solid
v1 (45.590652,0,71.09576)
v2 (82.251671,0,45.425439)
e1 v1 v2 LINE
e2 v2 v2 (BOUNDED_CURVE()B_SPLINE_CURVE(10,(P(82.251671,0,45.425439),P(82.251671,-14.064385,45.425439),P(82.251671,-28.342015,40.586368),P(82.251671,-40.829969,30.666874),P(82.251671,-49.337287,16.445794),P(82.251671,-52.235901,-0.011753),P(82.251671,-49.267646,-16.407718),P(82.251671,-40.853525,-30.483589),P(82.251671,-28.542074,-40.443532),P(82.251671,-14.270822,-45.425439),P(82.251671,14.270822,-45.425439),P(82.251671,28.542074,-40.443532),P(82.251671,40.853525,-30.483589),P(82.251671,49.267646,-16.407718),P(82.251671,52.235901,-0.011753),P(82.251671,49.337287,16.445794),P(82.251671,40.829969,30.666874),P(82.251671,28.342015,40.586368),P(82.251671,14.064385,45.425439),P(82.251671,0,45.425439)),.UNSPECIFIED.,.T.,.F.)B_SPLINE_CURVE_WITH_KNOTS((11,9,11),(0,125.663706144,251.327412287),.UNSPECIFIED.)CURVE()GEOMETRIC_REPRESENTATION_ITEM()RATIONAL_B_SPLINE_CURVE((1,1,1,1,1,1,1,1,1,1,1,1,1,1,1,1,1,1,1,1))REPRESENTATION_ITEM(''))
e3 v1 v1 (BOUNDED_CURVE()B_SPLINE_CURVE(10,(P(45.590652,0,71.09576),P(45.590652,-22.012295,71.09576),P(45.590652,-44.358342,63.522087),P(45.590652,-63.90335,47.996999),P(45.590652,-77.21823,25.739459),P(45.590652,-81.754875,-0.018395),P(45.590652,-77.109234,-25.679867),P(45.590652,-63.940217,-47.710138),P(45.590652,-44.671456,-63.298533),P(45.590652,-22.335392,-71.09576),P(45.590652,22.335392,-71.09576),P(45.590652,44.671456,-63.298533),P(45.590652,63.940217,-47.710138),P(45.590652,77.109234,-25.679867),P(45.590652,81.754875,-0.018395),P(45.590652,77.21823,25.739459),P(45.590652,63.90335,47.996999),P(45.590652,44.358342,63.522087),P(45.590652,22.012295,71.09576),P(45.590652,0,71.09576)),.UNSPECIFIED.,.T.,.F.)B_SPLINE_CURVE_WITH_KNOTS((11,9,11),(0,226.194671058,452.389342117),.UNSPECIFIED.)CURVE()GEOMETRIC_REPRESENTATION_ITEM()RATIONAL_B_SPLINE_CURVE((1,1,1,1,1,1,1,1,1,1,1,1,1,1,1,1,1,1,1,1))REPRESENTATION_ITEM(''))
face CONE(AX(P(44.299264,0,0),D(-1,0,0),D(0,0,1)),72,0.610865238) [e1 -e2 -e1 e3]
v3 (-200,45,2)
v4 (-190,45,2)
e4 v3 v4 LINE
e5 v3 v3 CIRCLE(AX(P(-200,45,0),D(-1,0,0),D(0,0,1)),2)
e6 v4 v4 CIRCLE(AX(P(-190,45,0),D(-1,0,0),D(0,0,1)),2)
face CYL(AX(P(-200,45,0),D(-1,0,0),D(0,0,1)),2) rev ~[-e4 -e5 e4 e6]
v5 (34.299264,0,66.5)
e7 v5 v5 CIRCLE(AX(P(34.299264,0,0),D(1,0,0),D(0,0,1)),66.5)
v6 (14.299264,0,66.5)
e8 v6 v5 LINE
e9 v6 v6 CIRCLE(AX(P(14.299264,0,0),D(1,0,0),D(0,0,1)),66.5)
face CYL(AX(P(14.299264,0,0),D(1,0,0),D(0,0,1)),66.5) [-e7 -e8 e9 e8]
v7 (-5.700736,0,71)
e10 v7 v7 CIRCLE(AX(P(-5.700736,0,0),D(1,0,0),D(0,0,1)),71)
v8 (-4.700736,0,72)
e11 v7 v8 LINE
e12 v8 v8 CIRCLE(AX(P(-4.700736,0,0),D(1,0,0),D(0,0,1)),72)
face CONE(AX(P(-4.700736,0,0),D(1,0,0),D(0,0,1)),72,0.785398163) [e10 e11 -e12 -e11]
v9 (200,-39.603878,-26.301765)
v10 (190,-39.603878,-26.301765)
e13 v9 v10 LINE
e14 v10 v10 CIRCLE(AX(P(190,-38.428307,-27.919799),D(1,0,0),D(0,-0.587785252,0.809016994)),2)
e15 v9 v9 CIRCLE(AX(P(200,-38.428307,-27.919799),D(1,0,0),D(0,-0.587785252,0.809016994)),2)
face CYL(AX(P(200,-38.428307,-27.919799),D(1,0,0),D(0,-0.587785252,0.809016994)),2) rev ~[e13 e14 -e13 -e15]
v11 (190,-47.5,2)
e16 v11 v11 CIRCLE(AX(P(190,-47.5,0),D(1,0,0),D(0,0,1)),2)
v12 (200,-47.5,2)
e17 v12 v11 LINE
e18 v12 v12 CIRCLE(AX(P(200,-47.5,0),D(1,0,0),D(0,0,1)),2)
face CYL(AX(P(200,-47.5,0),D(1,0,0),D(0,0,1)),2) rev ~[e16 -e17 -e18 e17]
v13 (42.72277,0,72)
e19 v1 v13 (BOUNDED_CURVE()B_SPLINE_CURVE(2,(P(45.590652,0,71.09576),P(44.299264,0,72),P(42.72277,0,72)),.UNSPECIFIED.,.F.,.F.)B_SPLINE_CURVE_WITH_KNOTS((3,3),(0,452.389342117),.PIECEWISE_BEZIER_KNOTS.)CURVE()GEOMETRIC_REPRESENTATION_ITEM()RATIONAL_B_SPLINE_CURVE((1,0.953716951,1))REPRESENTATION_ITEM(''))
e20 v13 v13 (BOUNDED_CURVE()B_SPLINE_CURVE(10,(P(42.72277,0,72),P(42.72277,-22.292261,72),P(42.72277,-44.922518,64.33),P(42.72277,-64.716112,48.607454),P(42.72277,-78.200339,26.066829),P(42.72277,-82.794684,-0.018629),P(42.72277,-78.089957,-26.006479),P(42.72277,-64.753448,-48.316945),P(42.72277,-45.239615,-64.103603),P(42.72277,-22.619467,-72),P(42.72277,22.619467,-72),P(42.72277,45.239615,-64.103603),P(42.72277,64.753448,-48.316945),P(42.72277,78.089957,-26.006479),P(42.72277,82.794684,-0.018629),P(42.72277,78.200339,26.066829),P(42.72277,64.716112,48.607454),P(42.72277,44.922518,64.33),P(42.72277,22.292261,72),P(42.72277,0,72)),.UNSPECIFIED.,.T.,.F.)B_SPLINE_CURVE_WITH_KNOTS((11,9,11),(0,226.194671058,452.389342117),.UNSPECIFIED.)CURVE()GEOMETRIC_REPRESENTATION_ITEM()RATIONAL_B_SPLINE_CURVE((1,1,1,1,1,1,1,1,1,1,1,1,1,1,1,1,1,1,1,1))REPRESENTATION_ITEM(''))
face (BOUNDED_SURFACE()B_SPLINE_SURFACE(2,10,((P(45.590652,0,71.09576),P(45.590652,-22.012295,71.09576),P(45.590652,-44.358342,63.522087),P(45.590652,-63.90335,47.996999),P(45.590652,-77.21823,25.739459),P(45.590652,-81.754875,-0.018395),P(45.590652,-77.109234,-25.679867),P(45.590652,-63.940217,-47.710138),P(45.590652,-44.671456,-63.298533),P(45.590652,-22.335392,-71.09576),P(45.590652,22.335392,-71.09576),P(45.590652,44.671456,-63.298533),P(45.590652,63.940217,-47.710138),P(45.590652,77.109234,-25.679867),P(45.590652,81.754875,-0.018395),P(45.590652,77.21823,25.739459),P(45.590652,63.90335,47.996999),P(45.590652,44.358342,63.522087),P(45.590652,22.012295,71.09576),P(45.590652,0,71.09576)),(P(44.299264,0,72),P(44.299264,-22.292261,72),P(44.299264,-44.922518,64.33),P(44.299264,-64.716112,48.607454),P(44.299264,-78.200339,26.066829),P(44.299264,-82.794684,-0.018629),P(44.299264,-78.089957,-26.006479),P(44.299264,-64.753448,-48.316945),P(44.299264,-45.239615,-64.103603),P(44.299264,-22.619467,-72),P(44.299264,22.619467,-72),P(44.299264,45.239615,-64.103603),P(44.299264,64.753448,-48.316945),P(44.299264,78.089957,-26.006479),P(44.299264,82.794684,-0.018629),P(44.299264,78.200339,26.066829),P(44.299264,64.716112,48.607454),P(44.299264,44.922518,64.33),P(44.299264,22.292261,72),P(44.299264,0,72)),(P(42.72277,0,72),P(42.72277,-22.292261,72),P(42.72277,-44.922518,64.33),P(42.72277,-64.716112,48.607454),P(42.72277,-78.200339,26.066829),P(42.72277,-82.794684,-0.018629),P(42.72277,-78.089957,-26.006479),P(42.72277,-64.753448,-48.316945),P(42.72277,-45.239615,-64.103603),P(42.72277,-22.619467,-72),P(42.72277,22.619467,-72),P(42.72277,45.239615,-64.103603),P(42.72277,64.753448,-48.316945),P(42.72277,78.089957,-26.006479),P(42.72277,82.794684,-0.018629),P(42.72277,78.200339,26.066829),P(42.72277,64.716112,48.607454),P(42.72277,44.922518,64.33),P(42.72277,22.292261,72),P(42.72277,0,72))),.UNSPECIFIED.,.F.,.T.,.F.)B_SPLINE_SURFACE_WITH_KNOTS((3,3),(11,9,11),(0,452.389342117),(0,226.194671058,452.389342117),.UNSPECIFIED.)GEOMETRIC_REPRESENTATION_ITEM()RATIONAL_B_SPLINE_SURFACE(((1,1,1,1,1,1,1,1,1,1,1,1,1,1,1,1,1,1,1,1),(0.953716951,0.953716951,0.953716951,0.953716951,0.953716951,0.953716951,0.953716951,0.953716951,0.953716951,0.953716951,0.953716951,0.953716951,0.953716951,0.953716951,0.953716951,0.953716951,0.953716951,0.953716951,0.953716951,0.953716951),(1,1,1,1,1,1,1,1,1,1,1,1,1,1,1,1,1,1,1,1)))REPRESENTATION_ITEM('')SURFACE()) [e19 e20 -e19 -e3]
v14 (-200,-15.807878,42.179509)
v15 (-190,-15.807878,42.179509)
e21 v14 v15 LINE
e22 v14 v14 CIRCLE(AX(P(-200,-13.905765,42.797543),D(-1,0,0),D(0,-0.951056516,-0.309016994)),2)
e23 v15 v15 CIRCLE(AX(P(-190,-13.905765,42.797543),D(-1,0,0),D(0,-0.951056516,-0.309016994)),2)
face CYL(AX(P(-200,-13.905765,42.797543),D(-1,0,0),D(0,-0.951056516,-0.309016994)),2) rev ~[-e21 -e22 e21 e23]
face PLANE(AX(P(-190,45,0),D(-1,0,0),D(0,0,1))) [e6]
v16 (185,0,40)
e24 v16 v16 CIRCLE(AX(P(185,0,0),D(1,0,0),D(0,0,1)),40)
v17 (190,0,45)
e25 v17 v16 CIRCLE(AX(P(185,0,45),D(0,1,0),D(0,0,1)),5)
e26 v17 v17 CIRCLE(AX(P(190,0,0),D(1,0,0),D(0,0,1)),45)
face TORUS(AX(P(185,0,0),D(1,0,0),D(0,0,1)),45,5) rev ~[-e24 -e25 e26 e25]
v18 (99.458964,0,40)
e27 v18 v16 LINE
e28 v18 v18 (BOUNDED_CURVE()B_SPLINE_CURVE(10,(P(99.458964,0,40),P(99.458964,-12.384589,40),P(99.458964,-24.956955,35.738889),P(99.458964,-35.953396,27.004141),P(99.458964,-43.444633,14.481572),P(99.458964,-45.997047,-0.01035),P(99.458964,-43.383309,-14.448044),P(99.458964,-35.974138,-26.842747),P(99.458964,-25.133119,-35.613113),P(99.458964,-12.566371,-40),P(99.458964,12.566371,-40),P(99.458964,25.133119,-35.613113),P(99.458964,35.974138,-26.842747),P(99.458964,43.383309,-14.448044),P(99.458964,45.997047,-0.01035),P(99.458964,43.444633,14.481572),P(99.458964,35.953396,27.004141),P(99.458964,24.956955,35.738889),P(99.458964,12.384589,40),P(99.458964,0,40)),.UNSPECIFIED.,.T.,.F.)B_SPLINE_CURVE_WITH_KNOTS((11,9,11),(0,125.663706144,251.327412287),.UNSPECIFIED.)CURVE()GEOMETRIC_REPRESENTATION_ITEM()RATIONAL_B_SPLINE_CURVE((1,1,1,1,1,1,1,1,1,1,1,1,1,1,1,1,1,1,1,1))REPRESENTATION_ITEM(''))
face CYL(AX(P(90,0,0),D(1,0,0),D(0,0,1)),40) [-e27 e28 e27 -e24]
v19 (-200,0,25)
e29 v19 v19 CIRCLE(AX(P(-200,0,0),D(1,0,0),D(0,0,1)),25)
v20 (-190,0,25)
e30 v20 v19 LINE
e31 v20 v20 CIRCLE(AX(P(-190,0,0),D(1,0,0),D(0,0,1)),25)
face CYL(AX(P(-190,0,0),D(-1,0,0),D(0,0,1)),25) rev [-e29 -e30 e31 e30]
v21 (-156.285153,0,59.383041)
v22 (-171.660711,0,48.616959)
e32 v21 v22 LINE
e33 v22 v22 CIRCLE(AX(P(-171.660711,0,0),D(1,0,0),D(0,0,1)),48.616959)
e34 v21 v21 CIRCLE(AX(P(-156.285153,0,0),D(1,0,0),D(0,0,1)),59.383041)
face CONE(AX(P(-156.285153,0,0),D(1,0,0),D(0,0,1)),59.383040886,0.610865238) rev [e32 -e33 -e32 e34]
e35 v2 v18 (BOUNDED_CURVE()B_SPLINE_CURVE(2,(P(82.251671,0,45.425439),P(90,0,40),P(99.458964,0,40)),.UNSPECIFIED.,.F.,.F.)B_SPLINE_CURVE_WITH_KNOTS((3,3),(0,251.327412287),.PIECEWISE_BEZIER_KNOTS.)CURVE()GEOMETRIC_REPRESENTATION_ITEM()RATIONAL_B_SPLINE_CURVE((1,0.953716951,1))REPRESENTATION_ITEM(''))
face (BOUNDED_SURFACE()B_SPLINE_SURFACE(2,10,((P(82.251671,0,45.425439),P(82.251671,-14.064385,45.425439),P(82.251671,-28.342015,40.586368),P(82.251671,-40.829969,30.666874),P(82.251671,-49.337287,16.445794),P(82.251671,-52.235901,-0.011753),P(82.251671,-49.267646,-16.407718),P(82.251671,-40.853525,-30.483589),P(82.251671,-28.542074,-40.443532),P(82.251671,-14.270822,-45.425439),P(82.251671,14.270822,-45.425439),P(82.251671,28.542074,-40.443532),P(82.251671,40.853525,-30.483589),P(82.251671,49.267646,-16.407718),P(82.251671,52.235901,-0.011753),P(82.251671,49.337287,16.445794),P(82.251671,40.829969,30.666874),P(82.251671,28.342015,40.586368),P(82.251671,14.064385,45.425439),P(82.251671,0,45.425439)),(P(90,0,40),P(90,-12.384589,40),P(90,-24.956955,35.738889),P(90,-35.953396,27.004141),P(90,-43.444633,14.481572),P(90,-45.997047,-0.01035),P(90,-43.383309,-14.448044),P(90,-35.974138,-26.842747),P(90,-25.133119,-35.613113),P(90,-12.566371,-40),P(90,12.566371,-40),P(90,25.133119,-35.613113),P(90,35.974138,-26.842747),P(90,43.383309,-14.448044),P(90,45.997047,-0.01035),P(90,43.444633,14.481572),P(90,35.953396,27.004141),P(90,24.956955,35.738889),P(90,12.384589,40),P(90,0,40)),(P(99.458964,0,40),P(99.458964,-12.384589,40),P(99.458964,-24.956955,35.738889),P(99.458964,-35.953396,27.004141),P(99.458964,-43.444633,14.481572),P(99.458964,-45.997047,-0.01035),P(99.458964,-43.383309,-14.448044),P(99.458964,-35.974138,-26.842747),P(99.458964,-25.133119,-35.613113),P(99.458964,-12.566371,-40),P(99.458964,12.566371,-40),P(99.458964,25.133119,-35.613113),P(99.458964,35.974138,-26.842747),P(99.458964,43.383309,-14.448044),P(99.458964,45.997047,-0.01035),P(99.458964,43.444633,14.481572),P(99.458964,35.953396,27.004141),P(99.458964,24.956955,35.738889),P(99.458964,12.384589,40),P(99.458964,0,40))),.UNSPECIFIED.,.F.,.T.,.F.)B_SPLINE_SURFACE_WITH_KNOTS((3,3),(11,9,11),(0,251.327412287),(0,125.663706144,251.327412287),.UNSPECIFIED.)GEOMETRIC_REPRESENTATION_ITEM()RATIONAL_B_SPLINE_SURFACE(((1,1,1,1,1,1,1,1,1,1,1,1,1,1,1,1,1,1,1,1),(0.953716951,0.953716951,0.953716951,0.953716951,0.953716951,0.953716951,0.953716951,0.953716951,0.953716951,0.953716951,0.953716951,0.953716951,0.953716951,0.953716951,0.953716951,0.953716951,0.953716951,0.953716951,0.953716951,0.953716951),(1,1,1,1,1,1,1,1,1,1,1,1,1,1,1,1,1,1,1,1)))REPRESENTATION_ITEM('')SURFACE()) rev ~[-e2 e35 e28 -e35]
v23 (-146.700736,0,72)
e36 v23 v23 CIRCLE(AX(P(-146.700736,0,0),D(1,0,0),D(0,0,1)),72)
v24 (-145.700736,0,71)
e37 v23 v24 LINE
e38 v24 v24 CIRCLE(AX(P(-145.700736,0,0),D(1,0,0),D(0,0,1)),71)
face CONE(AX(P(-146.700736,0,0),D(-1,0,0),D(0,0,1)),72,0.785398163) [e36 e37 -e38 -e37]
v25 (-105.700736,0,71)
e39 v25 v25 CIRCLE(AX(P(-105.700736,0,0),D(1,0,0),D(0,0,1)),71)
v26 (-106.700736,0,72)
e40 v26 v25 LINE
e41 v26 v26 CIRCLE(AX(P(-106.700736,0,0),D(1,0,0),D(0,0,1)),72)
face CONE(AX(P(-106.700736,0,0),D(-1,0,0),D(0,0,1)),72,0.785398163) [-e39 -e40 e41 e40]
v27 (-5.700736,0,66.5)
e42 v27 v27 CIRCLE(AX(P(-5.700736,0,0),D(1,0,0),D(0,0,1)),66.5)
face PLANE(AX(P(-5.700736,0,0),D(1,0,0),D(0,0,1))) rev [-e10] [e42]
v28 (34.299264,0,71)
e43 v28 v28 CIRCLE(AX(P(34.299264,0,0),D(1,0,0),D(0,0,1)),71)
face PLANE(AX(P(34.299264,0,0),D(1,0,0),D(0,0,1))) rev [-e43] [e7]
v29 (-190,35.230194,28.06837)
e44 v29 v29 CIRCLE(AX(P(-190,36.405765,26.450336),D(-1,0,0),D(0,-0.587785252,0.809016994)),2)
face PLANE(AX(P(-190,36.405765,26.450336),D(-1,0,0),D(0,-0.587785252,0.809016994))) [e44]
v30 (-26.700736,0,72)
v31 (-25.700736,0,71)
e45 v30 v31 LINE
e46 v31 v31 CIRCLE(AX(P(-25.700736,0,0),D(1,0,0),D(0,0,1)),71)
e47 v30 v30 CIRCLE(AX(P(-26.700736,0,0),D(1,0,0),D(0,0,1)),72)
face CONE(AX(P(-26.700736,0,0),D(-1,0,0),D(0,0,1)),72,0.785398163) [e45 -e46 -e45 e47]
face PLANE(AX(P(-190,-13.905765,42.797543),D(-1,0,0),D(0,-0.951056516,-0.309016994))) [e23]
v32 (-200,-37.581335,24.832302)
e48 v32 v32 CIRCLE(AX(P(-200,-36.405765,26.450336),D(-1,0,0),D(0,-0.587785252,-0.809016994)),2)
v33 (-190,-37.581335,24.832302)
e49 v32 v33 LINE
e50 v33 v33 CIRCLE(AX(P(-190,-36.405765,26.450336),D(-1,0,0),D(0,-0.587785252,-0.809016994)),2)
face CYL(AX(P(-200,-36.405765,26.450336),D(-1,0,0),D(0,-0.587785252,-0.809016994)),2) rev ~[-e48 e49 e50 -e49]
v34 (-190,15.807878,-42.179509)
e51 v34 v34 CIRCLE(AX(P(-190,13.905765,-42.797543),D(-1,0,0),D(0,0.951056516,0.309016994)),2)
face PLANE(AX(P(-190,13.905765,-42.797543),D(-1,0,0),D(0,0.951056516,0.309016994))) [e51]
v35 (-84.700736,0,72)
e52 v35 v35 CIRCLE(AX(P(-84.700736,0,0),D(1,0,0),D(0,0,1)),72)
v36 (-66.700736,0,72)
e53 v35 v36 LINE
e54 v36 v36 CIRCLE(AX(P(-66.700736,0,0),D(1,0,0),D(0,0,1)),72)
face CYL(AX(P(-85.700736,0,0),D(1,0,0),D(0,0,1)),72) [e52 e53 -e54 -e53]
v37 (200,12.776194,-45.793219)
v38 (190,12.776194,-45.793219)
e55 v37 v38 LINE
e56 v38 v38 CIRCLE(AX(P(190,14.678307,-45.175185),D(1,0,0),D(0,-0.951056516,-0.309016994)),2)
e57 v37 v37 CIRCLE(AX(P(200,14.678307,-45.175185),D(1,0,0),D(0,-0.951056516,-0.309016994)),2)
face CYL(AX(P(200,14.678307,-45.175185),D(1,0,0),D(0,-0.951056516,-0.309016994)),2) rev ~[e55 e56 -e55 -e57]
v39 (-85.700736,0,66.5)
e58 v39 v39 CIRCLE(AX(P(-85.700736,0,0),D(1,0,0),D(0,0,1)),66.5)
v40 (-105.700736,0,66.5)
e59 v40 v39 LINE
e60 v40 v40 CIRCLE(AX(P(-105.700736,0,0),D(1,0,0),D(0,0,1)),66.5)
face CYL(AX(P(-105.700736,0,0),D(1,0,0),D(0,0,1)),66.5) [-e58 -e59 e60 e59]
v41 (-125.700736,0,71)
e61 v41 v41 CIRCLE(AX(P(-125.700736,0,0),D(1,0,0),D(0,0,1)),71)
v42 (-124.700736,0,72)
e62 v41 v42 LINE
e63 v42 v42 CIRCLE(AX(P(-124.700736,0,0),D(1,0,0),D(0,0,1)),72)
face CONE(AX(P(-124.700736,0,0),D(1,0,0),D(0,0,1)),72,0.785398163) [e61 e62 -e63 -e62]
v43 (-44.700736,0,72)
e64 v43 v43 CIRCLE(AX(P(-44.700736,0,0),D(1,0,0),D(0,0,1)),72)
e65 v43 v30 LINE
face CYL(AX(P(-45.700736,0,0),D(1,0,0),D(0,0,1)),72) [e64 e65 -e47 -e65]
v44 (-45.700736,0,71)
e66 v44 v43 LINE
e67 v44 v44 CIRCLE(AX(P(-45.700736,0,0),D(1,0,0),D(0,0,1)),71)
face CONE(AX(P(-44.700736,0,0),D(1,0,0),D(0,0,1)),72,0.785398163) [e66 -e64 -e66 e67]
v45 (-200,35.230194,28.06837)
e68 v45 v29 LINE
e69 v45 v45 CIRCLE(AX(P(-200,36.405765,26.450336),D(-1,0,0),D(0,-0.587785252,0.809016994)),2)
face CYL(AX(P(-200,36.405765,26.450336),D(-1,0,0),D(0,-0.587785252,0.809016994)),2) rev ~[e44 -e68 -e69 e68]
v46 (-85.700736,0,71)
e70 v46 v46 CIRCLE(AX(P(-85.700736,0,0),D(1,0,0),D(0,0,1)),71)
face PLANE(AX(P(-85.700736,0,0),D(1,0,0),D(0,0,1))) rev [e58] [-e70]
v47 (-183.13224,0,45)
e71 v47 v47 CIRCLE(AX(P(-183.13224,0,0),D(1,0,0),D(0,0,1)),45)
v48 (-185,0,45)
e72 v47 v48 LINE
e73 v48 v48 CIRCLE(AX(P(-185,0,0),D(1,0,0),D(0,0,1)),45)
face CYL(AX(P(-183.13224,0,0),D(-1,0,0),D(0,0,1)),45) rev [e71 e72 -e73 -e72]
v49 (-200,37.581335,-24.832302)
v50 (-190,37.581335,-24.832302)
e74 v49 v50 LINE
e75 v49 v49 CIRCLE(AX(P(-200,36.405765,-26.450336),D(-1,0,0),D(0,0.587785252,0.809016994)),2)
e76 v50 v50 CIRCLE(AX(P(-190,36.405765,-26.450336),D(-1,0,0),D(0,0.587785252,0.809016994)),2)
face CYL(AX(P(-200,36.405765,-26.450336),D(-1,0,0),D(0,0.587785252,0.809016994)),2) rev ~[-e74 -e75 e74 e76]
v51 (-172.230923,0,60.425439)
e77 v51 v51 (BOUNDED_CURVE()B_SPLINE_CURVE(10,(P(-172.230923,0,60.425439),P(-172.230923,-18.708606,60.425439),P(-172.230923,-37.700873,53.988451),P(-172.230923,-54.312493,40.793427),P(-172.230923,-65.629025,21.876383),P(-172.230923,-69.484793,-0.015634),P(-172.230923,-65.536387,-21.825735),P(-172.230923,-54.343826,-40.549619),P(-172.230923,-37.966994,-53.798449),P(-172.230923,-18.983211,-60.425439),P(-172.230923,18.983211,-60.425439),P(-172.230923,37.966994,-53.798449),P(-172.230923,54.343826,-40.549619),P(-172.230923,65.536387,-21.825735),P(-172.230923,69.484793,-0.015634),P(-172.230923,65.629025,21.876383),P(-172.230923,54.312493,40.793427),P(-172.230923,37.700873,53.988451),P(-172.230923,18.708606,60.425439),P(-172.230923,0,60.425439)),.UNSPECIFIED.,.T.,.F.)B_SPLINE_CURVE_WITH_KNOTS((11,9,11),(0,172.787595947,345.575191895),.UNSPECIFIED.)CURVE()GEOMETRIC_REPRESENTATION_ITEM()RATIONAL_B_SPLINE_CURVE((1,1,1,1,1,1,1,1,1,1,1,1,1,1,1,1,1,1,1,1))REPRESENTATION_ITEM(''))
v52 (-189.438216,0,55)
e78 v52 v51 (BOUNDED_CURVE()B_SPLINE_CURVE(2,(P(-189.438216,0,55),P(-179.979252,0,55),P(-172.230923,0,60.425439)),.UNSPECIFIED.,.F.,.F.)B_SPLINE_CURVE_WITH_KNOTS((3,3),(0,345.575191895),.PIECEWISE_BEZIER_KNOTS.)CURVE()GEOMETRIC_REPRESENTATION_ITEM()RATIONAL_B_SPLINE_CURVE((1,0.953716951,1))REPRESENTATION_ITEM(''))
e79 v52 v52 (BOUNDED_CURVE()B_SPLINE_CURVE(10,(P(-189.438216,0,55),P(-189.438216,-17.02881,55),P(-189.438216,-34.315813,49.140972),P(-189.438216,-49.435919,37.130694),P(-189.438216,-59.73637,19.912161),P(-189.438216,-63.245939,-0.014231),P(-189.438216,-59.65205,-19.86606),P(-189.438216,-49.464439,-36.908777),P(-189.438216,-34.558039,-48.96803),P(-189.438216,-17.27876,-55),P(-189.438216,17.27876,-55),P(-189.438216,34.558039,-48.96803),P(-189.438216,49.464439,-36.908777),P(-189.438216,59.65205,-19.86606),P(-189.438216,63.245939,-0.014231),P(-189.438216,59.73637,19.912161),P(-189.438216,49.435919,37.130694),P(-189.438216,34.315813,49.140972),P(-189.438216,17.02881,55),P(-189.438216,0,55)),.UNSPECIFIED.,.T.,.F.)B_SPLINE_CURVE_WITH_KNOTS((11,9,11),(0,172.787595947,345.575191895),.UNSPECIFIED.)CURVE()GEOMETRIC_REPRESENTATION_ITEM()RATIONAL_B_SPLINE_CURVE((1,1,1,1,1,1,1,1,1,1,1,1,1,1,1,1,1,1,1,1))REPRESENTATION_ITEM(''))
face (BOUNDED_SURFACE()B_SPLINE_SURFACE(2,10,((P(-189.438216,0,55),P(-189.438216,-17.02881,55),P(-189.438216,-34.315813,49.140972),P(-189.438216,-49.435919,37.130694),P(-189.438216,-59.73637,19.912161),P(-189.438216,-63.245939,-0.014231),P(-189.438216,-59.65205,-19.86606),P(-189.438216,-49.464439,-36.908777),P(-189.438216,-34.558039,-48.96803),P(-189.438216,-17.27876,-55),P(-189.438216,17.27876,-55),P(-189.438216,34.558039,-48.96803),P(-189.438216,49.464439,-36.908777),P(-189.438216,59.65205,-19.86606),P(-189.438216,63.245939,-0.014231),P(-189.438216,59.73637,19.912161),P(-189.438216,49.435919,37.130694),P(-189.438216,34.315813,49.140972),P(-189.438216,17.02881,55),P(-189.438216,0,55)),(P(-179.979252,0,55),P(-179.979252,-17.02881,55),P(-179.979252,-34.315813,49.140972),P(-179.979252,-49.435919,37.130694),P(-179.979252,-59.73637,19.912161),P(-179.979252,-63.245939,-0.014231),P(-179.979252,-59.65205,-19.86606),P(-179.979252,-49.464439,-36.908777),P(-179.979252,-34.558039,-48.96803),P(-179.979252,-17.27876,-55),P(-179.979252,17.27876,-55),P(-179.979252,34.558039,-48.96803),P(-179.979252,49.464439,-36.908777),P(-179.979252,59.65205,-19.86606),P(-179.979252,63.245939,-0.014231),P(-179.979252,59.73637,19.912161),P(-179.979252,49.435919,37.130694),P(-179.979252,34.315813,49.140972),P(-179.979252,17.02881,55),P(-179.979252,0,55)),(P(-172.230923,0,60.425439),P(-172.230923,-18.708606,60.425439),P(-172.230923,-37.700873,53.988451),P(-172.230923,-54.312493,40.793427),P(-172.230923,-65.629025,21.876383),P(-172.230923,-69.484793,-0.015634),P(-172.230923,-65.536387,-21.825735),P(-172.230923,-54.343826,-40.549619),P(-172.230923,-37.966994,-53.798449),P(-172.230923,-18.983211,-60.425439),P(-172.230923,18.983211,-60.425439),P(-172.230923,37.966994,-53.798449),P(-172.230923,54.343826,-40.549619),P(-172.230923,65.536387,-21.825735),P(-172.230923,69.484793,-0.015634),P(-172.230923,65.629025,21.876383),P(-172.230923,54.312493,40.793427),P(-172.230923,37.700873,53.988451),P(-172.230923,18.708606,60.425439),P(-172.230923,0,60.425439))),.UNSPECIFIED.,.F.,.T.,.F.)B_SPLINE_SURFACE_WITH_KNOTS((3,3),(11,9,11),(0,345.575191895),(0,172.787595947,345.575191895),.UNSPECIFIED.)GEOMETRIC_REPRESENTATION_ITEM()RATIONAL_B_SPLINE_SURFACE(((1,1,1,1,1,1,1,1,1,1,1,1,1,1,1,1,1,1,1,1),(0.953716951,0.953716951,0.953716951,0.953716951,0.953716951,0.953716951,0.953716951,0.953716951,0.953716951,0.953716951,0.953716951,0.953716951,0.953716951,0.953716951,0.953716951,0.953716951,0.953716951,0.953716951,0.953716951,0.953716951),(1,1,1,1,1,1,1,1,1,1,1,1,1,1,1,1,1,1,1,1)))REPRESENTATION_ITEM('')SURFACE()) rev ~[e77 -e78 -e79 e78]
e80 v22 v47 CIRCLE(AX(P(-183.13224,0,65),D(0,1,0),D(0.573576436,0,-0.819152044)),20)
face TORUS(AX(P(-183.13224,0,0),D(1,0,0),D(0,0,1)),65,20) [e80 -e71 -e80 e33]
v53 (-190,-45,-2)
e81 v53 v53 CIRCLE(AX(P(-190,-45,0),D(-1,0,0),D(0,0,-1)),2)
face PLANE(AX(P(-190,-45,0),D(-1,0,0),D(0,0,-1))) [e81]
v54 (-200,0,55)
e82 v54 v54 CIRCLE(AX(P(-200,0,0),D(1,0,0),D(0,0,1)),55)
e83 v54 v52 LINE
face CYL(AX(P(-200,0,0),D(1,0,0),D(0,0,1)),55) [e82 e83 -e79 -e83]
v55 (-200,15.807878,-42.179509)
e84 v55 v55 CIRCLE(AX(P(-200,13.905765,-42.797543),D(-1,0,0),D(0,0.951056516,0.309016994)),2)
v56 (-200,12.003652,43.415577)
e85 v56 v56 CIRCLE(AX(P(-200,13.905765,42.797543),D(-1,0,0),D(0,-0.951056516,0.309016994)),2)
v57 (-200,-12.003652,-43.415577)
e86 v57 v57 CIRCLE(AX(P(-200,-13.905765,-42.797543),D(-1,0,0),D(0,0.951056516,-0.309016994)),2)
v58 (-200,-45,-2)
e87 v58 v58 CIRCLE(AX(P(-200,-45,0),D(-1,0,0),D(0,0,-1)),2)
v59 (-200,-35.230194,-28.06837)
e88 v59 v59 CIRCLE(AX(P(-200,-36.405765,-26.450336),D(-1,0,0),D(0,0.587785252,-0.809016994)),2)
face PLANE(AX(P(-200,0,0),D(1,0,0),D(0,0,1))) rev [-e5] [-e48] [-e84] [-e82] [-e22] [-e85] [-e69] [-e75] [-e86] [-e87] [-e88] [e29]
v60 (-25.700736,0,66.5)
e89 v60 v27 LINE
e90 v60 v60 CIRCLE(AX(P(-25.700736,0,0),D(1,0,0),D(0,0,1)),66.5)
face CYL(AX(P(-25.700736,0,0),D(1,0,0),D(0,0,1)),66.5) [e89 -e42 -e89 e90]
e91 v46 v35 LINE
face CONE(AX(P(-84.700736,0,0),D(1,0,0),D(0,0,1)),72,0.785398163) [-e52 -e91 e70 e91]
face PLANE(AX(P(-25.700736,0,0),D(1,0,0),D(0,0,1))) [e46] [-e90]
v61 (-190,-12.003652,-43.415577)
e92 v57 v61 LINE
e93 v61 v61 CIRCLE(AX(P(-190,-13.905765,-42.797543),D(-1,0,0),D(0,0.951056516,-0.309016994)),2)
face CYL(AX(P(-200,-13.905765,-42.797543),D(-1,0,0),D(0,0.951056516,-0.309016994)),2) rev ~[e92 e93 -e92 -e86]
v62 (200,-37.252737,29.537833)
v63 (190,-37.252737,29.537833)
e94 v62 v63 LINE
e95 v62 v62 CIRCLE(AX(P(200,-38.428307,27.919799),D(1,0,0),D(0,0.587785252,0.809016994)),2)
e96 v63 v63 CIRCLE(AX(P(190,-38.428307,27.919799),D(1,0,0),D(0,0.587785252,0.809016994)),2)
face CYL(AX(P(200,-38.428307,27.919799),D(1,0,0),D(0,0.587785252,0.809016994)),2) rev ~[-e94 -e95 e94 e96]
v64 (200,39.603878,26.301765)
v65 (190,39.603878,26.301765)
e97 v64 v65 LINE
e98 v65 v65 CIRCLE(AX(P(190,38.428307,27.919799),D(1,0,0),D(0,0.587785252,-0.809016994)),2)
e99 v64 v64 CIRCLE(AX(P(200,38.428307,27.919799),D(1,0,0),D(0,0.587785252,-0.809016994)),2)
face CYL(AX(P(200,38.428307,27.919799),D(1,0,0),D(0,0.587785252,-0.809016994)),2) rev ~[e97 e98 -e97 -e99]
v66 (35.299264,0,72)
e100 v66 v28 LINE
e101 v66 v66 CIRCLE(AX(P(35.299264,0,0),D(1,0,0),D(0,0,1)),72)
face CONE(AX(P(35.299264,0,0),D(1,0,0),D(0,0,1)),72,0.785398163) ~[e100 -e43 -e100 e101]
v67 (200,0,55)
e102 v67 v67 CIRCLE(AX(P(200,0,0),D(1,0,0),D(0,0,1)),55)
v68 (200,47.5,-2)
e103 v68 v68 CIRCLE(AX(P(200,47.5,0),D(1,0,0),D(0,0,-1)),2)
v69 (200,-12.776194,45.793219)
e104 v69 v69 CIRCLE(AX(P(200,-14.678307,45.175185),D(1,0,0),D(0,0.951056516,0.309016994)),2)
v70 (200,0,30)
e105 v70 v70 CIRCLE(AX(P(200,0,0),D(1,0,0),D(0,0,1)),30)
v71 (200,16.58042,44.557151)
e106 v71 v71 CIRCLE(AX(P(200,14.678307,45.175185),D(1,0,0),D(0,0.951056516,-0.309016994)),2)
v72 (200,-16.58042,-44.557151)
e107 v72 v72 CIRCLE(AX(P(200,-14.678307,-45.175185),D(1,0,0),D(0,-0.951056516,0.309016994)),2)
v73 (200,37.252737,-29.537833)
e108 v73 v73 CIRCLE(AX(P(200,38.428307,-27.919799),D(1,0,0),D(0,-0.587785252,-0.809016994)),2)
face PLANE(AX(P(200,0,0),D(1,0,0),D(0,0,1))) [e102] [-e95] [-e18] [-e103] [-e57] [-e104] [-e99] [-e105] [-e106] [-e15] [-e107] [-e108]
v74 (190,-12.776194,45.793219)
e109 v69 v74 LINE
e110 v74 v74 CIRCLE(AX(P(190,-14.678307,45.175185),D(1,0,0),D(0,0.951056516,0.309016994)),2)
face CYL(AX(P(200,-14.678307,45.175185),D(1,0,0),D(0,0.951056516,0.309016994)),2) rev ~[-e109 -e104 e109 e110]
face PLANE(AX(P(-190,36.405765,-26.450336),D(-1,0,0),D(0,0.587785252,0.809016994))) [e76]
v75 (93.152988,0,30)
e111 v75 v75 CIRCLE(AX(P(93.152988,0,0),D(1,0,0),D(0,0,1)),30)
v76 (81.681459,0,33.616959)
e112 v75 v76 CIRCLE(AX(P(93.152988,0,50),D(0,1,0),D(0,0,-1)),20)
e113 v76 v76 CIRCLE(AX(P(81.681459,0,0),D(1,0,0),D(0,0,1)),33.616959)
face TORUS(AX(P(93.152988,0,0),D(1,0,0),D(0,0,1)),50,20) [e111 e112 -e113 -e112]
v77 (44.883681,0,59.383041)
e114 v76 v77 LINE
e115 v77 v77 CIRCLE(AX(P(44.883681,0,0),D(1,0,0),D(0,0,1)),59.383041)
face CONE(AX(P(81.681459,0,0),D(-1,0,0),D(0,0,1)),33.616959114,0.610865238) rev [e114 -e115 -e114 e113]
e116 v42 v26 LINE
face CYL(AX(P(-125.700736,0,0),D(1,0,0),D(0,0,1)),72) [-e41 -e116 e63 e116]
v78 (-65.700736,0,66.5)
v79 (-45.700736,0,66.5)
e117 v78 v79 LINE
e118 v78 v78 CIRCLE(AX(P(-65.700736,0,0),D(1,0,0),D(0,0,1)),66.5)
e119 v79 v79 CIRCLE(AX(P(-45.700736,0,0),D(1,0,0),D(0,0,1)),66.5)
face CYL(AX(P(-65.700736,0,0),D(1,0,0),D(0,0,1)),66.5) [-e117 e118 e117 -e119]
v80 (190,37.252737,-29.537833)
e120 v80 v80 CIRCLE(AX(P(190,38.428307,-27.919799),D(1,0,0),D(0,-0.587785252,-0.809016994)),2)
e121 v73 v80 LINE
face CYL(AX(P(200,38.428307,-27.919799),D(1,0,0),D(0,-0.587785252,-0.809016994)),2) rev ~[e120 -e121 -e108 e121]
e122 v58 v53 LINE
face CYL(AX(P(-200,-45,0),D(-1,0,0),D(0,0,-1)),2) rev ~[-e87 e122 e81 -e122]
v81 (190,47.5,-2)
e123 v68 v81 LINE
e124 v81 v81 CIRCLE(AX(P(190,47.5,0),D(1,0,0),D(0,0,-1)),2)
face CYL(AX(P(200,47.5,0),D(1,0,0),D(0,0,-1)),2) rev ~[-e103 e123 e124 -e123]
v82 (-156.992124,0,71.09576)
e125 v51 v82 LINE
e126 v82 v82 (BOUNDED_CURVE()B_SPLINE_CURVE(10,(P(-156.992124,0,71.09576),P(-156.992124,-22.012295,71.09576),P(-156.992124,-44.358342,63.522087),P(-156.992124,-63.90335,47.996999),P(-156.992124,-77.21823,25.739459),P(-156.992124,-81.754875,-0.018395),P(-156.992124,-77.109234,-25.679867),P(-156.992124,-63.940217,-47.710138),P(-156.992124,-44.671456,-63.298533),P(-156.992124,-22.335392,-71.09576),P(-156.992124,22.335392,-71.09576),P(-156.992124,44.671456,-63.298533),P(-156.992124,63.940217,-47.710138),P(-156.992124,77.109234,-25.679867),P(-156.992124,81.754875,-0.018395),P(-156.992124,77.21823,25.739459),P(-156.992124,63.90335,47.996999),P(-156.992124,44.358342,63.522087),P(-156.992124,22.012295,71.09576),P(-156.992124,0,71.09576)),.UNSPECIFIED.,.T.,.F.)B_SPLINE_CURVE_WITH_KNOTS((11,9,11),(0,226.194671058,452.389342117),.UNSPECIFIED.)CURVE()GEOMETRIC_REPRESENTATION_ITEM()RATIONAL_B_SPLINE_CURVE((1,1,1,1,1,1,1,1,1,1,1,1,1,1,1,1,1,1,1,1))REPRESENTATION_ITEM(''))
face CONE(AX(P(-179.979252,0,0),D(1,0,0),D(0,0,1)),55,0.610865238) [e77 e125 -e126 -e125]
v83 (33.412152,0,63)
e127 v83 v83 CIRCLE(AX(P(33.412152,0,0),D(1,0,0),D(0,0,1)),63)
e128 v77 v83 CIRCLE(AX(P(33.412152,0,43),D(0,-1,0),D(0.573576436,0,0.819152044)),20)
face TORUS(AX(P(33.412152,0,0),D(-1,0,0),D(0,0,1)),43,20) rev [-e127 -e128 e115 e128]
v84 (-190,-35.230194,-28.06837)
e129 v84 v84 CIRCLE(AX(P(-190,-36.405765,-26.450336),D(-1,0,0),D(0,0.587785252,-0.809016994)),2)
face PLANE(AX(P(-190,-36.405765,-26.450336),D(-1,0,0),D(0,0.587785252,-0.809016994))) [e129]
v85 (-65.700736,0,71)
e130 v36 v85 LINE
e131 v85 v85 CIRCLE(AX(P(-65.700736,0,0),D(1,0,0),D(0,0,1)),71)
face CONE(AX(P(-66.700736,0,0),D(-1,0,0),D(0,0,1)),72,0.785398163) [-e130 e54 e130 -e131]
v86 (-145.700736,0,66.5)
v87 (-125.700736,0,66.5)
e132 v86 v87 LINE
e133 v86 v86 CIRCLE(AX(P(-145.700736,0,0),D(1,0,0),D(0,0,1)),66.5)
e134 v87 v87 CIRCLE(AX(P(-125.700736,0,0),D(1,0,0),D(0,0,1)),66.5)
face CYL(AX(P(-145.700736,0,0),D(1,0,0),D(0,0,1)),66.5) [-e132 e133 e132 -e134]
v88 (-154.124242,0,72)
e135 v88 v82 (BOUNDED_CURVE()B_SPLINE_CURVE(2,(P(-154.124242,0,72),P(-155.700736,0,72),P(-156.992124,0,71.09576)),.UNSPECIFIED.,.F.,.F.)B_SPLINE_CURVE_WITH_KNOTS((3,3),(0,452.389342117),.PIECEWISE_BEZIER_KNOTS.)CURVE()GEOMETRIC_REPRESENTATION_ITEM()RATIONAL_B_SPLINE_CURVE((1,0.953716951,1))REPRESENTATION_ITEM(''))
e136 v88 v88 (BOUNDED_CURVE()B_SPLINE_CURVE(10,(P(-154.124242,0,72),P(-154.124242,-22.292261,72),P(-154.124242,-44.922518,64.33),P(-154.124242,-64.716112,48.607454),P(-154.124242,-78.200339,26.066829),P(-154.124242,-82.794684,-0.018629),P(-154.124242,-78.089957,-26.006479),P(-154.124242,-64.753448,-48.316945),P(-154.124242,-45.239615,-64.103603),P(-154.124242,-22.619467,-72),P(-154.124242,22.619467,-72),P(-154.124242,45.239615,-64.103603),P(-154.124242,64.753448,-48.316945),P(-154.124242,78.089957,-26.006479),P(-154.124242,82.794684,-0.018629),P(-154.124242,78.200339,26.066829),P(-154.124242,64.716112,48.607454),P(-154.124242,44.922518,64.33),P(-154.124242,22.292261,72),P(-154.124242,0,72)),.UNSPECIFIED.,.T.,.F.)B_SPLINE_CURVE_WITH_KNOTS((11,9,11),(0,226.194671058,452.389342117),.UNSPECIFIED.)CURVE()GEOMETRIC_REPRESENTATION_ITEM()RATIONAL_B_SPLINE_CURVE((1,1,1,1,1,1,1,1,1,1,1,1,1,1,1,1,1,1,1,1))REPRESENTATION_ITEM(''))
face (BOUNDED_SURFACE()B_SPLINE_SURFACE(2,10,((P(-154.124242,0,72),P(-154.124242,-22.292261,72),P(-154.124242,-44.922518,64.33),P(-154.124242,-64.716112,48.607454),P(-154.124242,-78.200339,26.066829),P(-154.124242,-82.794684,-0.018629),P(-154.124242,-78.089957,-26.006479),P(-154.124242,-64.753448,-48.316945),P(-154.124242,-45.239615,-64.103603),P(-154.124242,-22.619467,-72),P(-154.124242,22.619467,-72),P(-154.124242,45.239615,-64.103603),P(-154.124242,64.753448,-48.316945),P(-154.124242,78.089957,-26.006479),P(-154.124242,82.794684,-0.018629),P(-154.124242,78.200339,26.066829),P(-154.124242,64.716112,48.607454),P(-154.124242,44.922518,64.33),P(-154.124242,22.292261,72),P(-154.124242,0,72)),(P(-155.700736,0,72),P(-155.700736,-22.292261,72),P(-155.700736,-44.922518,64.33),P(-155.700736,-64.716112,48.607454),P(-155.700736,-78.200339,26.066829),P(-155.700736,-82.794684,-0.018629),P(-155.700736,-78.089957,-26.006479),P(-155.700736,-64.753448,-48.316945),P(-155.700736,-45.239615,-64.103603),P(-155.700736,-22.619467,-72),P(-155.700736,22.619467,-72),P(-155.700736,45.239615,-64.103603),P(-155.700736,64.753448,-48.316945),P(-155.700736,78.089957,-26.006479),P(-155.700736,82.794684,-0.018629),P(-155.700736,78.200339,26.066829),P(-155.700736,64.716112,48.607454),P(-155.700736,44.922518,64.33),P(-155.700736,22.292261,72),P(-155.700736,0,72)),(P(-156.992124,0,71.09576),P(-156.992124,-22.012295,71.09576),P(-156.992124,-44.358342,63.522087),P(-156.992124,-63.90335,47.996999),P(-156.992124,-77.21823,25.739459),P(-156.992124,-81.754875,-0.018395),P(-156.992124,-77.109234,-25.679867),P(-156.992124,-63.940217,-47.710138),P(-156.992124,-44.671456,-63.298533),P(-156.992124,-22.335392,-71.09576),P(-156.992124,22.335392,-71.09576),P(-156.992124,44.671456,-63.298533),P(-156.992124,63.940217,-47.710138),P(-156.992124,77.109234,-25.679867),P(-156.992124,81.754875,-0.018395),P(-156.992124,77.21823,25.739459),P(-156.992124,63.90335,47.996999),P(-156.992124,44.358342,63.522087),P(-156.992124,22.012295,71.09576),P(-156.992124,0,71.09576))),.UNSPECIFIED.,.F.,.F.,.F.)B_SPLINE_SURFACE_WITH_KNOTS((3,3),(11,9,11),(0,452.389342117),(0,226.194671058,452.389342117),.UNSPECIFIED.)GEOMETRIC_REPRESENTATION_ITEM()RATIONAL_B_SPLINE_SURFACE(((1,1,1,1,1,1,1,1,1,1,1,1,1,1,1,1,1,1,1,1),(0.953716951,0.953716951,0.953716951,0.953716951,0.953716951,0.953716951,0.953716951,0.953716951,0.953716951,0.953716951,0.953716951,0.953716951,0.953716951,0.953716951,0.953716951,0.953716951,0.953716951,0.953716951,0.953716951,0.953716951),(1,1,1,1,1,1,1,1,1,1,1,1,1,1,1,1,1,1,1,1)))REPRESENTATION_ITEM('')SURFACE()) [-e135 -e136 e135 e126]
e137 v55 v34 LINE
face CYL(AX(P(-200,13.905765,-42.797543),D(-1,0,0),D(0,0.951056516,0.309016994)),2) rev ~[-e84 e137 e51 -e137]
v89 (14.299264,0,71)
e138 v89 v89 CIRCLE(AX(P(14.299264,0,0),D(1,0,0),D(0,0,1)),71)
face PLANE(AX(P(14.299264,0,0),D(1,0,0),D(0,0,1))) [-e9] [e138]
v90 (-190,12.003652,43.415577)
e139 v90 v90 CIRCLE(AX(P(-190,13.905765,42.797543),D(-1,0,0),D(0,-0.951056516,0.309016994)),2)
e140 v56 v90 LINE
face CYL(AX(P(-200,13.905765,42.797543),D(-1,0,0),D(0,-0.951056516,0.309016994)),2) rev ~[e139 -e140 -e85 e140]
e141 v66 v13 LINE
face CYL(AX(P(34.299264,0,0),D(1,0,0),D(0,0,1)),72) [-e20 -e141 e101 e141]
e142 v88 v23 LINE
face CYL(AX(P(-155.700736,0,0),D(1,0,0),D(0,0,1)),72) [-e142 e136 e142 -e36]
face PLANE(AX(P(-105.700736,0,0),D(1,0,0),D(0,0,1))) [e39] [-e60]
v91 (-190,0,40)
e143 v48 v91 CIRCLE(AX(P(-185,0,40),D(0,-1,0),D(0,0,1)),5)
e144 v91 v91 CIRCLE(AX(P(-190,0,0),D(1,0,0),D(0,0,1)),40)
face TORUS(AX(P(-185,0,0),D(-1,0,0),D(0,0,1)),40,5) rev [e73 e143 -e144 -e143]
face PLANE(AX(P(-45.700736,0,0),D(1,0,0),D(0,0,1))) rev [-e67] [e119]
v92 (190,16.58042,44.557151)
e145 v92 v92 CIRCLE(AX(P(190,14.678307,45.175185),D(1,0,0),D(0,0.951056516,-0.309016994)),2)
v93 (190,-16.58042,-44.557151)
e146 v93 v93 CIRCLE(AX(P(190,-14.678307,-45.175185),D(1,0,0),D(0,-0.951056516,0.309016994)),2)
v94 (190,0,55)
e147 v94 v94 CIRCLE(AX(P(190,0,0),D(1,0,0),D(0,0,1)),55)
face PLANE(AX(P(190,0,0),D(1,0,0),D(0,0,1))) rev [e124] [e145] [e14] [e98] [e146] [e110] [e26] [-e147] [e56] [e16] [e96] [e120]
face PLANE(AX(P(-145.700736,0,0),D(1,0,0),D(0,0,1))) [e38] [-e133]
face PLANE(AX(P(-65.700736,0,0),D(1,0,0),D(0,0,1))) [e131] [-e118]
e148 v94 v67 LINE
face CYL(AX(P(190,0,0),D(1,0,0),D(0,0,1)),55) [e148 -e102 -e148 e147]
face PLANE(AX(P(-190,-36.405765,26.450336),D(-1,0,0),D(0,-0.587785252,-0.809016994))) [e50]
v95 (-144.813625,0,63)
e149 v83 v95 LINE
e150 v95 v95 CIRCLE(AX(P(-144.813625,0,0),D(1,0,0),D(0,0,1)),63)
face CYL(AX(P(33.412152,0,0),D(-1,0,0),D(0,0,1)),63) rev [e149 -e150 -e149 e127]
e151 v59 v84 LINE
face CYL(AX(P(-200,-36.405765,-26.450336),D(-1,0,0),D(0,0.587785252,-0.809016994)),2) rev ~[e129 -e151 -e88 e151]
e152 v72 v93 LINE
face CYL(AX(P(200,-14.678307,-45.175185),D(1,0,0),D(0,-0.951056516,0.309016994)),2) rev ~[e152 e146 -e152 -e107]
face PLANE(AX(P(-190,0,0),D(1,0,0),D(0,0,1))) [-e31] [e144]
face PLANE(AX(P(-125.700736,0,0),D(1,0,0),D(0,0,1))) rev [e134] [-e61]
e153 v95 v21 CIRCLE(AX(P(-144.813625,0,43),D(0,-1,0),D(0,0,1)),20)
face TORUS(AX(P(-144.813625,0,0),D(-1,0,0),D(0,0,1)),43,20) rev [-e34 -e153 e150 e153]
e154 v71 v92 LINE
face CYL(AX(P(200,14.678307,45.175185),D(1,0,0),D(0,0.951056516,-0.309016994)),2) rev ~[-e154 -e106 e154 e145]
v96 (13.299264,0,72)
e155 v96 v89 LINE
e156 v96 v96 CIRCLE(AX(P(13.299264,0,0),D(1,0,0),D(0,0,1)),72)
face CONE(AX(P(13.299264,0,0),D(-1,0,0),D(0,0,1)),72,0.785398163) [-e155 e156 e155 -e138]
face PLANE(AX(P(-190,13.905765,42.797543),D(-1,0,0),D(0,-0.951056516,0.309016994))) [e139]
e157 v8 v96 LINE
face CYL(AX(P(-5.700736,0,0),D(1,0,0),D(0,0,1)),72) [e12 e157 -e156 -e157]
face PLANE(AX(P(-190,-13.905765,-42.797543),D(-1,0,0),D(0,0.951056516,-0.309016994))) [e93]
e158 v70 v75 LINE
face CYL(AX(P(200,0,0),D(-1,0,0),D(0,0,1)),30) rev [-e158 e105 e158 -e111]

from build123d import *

# Parameters (mm, degrees)
FILLET1_R          = 30
CHAMFER1_SIZE      = 1
FILLET2_R          = 5
SKETCH2_R          = 2
CUT_EXTRUDE1_DEPTH = 10
SKETCH3_R          = 2
CUT_EXTRUDE2_DEPTH = 10
CIRPATTERN1_COUNT  = 10


with BuildPart() as part:
    # Sketch1 → Revolve1 (revolve)
    with BuildSketch(Plane.XY, mode=Mode.PRIVATE) as revolve1_sk:
        with BuildLine():
            Line((200, 30), (93.152987889, 30))
            ThreePointArc((93.152987889, 30), (87.138871899, 30.925660985), (81.681459162, 33.616959114))
            Line((81.681459162, 33.616959114), (44.883680838, 59.383040886))
            ThreePointArc((44.883680838, 59.383040886), (39.426268101, 62.074339015), (33.412152111, 63))
            Line((33.412152111, 63), (-144.813624543, 63))
            ThreePointArc((-144.813624543, 63), (-150.827740533, 62.074339015), (-156.28515327, 59.383040886))
            Line((-156.28515327, 59.383040886), (-171.660711492, 48.616959114))
            ThreePointArc((-171.660711492, 48.616959114), (-177.118124229, 45.925660985), (-183.132240219, 45))
            Line((-183.132240219, 45), (-185, 45))
            ThreePointArc((-185, 45), (-188.535533906, 43.535533906), (-190, 40))
            Line((-190, 40), (-190, 25))
            Line((-190, 25), (-200, 25))
            Line((-200, 25), (-200, 55))
            Line((-200, 55), (-179.97925233, 55))
            Line((-179.97925233, 55), (-155.700736216, 72))
            Line((-155.700736216, 72), (-145.700736216, 72))
            Line((-145.700736216, 72), (-145.700736216, 66.5))
            Line((-145.700736216, 66.5), (-125.700736216, 66.5))
            Line((-125.700736216, 66.5), (-125.700736216, 72))
            Line((-125.700736216, 72), (-105.700736216, 72))
            Line((-105.700736216, 72), (-105.700736216, 66.5))
            Line((-105.700736216, 66.5), (-85.700736216, 66.5))
            Line((-85.700736216, 66.5), (-85.700736216, 72))
            Line((-85.700736216, 72), (-65.700736216, 72))
            Line((-65.700736216, 72), (-65.700736216, 66.5))
            Line((-65.700736216, 66.5), (-45.700736216, 66.5))
            Line((-45.700736216, 66.5), (-45.700736216, 72))
            Line((-45.700736216, 72), (-25.700736216, 72))
            Line((-25.700736216, 72), (-25.700736216, 66.5))
            Line((-25.700736216, 66.5), (-5.700736216, 66.5))
            Line((-5.700736216, 66.5), (-5.700736216, 72))
            Line((-5.700736216, 72), (14.299263784, 72))
            Line((14.299263784, 72), (14.299263784, 66.5))
            Line((14.299263784, 66.5), (34.299263784, 66.5))
            Line((34.299263784, 66.5), (34.299263784, 72))
            Line((34.299263784, 72), (44.299263784, 72))
            Line((44.299263784, 72), (90, 40))
            Line((90, 40), (190, 40))
            Line((190, 40), (190, 55))
            Line((190, 55), (200, 55))
            Line((200, 55), (200, 30))
        make_face()
    revolve(revolve1_sk.sketch.rotate(Axis((-41.922861934, 0, 0), (1, 0, 0)), 90), axis=Axis((-41.922861934, 0, 0), (1, 0, 0)))

    # Fillet1
    fillet1_edges = [part.edges().sort_by_distance(p)[0] for p in [
        (90, 0, -40),
        (-179.97925233, 0, -55),
    ]]
    fillet(fillet1_edges, radius=FILLET1_R)

    # Chamfer1
    chamfer1_edges = [part.edges().sort_by_distance(p)[0] for p in [
        (34.299263784, 0, -72),
        (14.299263784, 0, -72),
        (-5.700736216, 0, -72),
        (-25.700736216, 0, -72),
        (-45.700736216, 0, -72),
        (-65.700736216, 0, -72),
        (-85.700736216, 0, -72),
        (-105.700736216, 0, -72),
        (-125.700736216, 0, -72),
        (-145.700736216, 0, -72),
    ]]
    chamfer(chamfer1_edges, length=CHAMFER1_SIZE)

    # Fillet2
    fillet2_edges = [part.edges().sort_by_distance(p)[0] for p in [
        (190, 0, -40),
        (44.299263784, 0, -72),
        (-155.700736216, 0, -72),
    ]]
    fillet(fillet2_edges, radius=FILLET2_R)

    # Sketch2 → Cut-Extrude1 (cut)
    with BuildSketch(Plane.ZY.offset(200)):
        with Locations((0, 45)):
            Circle(SKETCH2_R)
    cut_extrude1 = extrude(amount=-CUT_EXTRUDE1_DEPTH, mode=Mode.SUBTRACT)

    # Sketch3 → Cut-Extrude2 (cut)
    with BuildSketch(Plane(origin=(200, 0, 0), x_dir=(0, 0, -1), z_dir=(1, 0, 0))):
        with Locations((0, 47.5)):
            Circle(SKETCH3_R)
    cut_extrude2 = extrude(amount=-CUT_EXTRUDE2_DEPTH, mode=Mode.SUBTRACT)

    # CirPattern1: Cut-Extrude1, Cut-Extrude2 ×10 about axis
    cirpattern1_axis = Axis((0, 0, 0), (1, 0, 0))
    add([cut_extrude1.rotate(cirpattern1_axis, i * 360 / CIRPATTERN1_COUNT) for i in range(1, CIRPATTERN1_COUNT)], mode=Mode.SUBTRACT)
    add([cut_extrude2.rotate(cirpattern1_axis, i * 360 / CIRPATTERN1_COUNT) for i in range(1, CIRPATTERN1_COUNT)], mode=Mode.SUBTRACT)


solid = part.part
